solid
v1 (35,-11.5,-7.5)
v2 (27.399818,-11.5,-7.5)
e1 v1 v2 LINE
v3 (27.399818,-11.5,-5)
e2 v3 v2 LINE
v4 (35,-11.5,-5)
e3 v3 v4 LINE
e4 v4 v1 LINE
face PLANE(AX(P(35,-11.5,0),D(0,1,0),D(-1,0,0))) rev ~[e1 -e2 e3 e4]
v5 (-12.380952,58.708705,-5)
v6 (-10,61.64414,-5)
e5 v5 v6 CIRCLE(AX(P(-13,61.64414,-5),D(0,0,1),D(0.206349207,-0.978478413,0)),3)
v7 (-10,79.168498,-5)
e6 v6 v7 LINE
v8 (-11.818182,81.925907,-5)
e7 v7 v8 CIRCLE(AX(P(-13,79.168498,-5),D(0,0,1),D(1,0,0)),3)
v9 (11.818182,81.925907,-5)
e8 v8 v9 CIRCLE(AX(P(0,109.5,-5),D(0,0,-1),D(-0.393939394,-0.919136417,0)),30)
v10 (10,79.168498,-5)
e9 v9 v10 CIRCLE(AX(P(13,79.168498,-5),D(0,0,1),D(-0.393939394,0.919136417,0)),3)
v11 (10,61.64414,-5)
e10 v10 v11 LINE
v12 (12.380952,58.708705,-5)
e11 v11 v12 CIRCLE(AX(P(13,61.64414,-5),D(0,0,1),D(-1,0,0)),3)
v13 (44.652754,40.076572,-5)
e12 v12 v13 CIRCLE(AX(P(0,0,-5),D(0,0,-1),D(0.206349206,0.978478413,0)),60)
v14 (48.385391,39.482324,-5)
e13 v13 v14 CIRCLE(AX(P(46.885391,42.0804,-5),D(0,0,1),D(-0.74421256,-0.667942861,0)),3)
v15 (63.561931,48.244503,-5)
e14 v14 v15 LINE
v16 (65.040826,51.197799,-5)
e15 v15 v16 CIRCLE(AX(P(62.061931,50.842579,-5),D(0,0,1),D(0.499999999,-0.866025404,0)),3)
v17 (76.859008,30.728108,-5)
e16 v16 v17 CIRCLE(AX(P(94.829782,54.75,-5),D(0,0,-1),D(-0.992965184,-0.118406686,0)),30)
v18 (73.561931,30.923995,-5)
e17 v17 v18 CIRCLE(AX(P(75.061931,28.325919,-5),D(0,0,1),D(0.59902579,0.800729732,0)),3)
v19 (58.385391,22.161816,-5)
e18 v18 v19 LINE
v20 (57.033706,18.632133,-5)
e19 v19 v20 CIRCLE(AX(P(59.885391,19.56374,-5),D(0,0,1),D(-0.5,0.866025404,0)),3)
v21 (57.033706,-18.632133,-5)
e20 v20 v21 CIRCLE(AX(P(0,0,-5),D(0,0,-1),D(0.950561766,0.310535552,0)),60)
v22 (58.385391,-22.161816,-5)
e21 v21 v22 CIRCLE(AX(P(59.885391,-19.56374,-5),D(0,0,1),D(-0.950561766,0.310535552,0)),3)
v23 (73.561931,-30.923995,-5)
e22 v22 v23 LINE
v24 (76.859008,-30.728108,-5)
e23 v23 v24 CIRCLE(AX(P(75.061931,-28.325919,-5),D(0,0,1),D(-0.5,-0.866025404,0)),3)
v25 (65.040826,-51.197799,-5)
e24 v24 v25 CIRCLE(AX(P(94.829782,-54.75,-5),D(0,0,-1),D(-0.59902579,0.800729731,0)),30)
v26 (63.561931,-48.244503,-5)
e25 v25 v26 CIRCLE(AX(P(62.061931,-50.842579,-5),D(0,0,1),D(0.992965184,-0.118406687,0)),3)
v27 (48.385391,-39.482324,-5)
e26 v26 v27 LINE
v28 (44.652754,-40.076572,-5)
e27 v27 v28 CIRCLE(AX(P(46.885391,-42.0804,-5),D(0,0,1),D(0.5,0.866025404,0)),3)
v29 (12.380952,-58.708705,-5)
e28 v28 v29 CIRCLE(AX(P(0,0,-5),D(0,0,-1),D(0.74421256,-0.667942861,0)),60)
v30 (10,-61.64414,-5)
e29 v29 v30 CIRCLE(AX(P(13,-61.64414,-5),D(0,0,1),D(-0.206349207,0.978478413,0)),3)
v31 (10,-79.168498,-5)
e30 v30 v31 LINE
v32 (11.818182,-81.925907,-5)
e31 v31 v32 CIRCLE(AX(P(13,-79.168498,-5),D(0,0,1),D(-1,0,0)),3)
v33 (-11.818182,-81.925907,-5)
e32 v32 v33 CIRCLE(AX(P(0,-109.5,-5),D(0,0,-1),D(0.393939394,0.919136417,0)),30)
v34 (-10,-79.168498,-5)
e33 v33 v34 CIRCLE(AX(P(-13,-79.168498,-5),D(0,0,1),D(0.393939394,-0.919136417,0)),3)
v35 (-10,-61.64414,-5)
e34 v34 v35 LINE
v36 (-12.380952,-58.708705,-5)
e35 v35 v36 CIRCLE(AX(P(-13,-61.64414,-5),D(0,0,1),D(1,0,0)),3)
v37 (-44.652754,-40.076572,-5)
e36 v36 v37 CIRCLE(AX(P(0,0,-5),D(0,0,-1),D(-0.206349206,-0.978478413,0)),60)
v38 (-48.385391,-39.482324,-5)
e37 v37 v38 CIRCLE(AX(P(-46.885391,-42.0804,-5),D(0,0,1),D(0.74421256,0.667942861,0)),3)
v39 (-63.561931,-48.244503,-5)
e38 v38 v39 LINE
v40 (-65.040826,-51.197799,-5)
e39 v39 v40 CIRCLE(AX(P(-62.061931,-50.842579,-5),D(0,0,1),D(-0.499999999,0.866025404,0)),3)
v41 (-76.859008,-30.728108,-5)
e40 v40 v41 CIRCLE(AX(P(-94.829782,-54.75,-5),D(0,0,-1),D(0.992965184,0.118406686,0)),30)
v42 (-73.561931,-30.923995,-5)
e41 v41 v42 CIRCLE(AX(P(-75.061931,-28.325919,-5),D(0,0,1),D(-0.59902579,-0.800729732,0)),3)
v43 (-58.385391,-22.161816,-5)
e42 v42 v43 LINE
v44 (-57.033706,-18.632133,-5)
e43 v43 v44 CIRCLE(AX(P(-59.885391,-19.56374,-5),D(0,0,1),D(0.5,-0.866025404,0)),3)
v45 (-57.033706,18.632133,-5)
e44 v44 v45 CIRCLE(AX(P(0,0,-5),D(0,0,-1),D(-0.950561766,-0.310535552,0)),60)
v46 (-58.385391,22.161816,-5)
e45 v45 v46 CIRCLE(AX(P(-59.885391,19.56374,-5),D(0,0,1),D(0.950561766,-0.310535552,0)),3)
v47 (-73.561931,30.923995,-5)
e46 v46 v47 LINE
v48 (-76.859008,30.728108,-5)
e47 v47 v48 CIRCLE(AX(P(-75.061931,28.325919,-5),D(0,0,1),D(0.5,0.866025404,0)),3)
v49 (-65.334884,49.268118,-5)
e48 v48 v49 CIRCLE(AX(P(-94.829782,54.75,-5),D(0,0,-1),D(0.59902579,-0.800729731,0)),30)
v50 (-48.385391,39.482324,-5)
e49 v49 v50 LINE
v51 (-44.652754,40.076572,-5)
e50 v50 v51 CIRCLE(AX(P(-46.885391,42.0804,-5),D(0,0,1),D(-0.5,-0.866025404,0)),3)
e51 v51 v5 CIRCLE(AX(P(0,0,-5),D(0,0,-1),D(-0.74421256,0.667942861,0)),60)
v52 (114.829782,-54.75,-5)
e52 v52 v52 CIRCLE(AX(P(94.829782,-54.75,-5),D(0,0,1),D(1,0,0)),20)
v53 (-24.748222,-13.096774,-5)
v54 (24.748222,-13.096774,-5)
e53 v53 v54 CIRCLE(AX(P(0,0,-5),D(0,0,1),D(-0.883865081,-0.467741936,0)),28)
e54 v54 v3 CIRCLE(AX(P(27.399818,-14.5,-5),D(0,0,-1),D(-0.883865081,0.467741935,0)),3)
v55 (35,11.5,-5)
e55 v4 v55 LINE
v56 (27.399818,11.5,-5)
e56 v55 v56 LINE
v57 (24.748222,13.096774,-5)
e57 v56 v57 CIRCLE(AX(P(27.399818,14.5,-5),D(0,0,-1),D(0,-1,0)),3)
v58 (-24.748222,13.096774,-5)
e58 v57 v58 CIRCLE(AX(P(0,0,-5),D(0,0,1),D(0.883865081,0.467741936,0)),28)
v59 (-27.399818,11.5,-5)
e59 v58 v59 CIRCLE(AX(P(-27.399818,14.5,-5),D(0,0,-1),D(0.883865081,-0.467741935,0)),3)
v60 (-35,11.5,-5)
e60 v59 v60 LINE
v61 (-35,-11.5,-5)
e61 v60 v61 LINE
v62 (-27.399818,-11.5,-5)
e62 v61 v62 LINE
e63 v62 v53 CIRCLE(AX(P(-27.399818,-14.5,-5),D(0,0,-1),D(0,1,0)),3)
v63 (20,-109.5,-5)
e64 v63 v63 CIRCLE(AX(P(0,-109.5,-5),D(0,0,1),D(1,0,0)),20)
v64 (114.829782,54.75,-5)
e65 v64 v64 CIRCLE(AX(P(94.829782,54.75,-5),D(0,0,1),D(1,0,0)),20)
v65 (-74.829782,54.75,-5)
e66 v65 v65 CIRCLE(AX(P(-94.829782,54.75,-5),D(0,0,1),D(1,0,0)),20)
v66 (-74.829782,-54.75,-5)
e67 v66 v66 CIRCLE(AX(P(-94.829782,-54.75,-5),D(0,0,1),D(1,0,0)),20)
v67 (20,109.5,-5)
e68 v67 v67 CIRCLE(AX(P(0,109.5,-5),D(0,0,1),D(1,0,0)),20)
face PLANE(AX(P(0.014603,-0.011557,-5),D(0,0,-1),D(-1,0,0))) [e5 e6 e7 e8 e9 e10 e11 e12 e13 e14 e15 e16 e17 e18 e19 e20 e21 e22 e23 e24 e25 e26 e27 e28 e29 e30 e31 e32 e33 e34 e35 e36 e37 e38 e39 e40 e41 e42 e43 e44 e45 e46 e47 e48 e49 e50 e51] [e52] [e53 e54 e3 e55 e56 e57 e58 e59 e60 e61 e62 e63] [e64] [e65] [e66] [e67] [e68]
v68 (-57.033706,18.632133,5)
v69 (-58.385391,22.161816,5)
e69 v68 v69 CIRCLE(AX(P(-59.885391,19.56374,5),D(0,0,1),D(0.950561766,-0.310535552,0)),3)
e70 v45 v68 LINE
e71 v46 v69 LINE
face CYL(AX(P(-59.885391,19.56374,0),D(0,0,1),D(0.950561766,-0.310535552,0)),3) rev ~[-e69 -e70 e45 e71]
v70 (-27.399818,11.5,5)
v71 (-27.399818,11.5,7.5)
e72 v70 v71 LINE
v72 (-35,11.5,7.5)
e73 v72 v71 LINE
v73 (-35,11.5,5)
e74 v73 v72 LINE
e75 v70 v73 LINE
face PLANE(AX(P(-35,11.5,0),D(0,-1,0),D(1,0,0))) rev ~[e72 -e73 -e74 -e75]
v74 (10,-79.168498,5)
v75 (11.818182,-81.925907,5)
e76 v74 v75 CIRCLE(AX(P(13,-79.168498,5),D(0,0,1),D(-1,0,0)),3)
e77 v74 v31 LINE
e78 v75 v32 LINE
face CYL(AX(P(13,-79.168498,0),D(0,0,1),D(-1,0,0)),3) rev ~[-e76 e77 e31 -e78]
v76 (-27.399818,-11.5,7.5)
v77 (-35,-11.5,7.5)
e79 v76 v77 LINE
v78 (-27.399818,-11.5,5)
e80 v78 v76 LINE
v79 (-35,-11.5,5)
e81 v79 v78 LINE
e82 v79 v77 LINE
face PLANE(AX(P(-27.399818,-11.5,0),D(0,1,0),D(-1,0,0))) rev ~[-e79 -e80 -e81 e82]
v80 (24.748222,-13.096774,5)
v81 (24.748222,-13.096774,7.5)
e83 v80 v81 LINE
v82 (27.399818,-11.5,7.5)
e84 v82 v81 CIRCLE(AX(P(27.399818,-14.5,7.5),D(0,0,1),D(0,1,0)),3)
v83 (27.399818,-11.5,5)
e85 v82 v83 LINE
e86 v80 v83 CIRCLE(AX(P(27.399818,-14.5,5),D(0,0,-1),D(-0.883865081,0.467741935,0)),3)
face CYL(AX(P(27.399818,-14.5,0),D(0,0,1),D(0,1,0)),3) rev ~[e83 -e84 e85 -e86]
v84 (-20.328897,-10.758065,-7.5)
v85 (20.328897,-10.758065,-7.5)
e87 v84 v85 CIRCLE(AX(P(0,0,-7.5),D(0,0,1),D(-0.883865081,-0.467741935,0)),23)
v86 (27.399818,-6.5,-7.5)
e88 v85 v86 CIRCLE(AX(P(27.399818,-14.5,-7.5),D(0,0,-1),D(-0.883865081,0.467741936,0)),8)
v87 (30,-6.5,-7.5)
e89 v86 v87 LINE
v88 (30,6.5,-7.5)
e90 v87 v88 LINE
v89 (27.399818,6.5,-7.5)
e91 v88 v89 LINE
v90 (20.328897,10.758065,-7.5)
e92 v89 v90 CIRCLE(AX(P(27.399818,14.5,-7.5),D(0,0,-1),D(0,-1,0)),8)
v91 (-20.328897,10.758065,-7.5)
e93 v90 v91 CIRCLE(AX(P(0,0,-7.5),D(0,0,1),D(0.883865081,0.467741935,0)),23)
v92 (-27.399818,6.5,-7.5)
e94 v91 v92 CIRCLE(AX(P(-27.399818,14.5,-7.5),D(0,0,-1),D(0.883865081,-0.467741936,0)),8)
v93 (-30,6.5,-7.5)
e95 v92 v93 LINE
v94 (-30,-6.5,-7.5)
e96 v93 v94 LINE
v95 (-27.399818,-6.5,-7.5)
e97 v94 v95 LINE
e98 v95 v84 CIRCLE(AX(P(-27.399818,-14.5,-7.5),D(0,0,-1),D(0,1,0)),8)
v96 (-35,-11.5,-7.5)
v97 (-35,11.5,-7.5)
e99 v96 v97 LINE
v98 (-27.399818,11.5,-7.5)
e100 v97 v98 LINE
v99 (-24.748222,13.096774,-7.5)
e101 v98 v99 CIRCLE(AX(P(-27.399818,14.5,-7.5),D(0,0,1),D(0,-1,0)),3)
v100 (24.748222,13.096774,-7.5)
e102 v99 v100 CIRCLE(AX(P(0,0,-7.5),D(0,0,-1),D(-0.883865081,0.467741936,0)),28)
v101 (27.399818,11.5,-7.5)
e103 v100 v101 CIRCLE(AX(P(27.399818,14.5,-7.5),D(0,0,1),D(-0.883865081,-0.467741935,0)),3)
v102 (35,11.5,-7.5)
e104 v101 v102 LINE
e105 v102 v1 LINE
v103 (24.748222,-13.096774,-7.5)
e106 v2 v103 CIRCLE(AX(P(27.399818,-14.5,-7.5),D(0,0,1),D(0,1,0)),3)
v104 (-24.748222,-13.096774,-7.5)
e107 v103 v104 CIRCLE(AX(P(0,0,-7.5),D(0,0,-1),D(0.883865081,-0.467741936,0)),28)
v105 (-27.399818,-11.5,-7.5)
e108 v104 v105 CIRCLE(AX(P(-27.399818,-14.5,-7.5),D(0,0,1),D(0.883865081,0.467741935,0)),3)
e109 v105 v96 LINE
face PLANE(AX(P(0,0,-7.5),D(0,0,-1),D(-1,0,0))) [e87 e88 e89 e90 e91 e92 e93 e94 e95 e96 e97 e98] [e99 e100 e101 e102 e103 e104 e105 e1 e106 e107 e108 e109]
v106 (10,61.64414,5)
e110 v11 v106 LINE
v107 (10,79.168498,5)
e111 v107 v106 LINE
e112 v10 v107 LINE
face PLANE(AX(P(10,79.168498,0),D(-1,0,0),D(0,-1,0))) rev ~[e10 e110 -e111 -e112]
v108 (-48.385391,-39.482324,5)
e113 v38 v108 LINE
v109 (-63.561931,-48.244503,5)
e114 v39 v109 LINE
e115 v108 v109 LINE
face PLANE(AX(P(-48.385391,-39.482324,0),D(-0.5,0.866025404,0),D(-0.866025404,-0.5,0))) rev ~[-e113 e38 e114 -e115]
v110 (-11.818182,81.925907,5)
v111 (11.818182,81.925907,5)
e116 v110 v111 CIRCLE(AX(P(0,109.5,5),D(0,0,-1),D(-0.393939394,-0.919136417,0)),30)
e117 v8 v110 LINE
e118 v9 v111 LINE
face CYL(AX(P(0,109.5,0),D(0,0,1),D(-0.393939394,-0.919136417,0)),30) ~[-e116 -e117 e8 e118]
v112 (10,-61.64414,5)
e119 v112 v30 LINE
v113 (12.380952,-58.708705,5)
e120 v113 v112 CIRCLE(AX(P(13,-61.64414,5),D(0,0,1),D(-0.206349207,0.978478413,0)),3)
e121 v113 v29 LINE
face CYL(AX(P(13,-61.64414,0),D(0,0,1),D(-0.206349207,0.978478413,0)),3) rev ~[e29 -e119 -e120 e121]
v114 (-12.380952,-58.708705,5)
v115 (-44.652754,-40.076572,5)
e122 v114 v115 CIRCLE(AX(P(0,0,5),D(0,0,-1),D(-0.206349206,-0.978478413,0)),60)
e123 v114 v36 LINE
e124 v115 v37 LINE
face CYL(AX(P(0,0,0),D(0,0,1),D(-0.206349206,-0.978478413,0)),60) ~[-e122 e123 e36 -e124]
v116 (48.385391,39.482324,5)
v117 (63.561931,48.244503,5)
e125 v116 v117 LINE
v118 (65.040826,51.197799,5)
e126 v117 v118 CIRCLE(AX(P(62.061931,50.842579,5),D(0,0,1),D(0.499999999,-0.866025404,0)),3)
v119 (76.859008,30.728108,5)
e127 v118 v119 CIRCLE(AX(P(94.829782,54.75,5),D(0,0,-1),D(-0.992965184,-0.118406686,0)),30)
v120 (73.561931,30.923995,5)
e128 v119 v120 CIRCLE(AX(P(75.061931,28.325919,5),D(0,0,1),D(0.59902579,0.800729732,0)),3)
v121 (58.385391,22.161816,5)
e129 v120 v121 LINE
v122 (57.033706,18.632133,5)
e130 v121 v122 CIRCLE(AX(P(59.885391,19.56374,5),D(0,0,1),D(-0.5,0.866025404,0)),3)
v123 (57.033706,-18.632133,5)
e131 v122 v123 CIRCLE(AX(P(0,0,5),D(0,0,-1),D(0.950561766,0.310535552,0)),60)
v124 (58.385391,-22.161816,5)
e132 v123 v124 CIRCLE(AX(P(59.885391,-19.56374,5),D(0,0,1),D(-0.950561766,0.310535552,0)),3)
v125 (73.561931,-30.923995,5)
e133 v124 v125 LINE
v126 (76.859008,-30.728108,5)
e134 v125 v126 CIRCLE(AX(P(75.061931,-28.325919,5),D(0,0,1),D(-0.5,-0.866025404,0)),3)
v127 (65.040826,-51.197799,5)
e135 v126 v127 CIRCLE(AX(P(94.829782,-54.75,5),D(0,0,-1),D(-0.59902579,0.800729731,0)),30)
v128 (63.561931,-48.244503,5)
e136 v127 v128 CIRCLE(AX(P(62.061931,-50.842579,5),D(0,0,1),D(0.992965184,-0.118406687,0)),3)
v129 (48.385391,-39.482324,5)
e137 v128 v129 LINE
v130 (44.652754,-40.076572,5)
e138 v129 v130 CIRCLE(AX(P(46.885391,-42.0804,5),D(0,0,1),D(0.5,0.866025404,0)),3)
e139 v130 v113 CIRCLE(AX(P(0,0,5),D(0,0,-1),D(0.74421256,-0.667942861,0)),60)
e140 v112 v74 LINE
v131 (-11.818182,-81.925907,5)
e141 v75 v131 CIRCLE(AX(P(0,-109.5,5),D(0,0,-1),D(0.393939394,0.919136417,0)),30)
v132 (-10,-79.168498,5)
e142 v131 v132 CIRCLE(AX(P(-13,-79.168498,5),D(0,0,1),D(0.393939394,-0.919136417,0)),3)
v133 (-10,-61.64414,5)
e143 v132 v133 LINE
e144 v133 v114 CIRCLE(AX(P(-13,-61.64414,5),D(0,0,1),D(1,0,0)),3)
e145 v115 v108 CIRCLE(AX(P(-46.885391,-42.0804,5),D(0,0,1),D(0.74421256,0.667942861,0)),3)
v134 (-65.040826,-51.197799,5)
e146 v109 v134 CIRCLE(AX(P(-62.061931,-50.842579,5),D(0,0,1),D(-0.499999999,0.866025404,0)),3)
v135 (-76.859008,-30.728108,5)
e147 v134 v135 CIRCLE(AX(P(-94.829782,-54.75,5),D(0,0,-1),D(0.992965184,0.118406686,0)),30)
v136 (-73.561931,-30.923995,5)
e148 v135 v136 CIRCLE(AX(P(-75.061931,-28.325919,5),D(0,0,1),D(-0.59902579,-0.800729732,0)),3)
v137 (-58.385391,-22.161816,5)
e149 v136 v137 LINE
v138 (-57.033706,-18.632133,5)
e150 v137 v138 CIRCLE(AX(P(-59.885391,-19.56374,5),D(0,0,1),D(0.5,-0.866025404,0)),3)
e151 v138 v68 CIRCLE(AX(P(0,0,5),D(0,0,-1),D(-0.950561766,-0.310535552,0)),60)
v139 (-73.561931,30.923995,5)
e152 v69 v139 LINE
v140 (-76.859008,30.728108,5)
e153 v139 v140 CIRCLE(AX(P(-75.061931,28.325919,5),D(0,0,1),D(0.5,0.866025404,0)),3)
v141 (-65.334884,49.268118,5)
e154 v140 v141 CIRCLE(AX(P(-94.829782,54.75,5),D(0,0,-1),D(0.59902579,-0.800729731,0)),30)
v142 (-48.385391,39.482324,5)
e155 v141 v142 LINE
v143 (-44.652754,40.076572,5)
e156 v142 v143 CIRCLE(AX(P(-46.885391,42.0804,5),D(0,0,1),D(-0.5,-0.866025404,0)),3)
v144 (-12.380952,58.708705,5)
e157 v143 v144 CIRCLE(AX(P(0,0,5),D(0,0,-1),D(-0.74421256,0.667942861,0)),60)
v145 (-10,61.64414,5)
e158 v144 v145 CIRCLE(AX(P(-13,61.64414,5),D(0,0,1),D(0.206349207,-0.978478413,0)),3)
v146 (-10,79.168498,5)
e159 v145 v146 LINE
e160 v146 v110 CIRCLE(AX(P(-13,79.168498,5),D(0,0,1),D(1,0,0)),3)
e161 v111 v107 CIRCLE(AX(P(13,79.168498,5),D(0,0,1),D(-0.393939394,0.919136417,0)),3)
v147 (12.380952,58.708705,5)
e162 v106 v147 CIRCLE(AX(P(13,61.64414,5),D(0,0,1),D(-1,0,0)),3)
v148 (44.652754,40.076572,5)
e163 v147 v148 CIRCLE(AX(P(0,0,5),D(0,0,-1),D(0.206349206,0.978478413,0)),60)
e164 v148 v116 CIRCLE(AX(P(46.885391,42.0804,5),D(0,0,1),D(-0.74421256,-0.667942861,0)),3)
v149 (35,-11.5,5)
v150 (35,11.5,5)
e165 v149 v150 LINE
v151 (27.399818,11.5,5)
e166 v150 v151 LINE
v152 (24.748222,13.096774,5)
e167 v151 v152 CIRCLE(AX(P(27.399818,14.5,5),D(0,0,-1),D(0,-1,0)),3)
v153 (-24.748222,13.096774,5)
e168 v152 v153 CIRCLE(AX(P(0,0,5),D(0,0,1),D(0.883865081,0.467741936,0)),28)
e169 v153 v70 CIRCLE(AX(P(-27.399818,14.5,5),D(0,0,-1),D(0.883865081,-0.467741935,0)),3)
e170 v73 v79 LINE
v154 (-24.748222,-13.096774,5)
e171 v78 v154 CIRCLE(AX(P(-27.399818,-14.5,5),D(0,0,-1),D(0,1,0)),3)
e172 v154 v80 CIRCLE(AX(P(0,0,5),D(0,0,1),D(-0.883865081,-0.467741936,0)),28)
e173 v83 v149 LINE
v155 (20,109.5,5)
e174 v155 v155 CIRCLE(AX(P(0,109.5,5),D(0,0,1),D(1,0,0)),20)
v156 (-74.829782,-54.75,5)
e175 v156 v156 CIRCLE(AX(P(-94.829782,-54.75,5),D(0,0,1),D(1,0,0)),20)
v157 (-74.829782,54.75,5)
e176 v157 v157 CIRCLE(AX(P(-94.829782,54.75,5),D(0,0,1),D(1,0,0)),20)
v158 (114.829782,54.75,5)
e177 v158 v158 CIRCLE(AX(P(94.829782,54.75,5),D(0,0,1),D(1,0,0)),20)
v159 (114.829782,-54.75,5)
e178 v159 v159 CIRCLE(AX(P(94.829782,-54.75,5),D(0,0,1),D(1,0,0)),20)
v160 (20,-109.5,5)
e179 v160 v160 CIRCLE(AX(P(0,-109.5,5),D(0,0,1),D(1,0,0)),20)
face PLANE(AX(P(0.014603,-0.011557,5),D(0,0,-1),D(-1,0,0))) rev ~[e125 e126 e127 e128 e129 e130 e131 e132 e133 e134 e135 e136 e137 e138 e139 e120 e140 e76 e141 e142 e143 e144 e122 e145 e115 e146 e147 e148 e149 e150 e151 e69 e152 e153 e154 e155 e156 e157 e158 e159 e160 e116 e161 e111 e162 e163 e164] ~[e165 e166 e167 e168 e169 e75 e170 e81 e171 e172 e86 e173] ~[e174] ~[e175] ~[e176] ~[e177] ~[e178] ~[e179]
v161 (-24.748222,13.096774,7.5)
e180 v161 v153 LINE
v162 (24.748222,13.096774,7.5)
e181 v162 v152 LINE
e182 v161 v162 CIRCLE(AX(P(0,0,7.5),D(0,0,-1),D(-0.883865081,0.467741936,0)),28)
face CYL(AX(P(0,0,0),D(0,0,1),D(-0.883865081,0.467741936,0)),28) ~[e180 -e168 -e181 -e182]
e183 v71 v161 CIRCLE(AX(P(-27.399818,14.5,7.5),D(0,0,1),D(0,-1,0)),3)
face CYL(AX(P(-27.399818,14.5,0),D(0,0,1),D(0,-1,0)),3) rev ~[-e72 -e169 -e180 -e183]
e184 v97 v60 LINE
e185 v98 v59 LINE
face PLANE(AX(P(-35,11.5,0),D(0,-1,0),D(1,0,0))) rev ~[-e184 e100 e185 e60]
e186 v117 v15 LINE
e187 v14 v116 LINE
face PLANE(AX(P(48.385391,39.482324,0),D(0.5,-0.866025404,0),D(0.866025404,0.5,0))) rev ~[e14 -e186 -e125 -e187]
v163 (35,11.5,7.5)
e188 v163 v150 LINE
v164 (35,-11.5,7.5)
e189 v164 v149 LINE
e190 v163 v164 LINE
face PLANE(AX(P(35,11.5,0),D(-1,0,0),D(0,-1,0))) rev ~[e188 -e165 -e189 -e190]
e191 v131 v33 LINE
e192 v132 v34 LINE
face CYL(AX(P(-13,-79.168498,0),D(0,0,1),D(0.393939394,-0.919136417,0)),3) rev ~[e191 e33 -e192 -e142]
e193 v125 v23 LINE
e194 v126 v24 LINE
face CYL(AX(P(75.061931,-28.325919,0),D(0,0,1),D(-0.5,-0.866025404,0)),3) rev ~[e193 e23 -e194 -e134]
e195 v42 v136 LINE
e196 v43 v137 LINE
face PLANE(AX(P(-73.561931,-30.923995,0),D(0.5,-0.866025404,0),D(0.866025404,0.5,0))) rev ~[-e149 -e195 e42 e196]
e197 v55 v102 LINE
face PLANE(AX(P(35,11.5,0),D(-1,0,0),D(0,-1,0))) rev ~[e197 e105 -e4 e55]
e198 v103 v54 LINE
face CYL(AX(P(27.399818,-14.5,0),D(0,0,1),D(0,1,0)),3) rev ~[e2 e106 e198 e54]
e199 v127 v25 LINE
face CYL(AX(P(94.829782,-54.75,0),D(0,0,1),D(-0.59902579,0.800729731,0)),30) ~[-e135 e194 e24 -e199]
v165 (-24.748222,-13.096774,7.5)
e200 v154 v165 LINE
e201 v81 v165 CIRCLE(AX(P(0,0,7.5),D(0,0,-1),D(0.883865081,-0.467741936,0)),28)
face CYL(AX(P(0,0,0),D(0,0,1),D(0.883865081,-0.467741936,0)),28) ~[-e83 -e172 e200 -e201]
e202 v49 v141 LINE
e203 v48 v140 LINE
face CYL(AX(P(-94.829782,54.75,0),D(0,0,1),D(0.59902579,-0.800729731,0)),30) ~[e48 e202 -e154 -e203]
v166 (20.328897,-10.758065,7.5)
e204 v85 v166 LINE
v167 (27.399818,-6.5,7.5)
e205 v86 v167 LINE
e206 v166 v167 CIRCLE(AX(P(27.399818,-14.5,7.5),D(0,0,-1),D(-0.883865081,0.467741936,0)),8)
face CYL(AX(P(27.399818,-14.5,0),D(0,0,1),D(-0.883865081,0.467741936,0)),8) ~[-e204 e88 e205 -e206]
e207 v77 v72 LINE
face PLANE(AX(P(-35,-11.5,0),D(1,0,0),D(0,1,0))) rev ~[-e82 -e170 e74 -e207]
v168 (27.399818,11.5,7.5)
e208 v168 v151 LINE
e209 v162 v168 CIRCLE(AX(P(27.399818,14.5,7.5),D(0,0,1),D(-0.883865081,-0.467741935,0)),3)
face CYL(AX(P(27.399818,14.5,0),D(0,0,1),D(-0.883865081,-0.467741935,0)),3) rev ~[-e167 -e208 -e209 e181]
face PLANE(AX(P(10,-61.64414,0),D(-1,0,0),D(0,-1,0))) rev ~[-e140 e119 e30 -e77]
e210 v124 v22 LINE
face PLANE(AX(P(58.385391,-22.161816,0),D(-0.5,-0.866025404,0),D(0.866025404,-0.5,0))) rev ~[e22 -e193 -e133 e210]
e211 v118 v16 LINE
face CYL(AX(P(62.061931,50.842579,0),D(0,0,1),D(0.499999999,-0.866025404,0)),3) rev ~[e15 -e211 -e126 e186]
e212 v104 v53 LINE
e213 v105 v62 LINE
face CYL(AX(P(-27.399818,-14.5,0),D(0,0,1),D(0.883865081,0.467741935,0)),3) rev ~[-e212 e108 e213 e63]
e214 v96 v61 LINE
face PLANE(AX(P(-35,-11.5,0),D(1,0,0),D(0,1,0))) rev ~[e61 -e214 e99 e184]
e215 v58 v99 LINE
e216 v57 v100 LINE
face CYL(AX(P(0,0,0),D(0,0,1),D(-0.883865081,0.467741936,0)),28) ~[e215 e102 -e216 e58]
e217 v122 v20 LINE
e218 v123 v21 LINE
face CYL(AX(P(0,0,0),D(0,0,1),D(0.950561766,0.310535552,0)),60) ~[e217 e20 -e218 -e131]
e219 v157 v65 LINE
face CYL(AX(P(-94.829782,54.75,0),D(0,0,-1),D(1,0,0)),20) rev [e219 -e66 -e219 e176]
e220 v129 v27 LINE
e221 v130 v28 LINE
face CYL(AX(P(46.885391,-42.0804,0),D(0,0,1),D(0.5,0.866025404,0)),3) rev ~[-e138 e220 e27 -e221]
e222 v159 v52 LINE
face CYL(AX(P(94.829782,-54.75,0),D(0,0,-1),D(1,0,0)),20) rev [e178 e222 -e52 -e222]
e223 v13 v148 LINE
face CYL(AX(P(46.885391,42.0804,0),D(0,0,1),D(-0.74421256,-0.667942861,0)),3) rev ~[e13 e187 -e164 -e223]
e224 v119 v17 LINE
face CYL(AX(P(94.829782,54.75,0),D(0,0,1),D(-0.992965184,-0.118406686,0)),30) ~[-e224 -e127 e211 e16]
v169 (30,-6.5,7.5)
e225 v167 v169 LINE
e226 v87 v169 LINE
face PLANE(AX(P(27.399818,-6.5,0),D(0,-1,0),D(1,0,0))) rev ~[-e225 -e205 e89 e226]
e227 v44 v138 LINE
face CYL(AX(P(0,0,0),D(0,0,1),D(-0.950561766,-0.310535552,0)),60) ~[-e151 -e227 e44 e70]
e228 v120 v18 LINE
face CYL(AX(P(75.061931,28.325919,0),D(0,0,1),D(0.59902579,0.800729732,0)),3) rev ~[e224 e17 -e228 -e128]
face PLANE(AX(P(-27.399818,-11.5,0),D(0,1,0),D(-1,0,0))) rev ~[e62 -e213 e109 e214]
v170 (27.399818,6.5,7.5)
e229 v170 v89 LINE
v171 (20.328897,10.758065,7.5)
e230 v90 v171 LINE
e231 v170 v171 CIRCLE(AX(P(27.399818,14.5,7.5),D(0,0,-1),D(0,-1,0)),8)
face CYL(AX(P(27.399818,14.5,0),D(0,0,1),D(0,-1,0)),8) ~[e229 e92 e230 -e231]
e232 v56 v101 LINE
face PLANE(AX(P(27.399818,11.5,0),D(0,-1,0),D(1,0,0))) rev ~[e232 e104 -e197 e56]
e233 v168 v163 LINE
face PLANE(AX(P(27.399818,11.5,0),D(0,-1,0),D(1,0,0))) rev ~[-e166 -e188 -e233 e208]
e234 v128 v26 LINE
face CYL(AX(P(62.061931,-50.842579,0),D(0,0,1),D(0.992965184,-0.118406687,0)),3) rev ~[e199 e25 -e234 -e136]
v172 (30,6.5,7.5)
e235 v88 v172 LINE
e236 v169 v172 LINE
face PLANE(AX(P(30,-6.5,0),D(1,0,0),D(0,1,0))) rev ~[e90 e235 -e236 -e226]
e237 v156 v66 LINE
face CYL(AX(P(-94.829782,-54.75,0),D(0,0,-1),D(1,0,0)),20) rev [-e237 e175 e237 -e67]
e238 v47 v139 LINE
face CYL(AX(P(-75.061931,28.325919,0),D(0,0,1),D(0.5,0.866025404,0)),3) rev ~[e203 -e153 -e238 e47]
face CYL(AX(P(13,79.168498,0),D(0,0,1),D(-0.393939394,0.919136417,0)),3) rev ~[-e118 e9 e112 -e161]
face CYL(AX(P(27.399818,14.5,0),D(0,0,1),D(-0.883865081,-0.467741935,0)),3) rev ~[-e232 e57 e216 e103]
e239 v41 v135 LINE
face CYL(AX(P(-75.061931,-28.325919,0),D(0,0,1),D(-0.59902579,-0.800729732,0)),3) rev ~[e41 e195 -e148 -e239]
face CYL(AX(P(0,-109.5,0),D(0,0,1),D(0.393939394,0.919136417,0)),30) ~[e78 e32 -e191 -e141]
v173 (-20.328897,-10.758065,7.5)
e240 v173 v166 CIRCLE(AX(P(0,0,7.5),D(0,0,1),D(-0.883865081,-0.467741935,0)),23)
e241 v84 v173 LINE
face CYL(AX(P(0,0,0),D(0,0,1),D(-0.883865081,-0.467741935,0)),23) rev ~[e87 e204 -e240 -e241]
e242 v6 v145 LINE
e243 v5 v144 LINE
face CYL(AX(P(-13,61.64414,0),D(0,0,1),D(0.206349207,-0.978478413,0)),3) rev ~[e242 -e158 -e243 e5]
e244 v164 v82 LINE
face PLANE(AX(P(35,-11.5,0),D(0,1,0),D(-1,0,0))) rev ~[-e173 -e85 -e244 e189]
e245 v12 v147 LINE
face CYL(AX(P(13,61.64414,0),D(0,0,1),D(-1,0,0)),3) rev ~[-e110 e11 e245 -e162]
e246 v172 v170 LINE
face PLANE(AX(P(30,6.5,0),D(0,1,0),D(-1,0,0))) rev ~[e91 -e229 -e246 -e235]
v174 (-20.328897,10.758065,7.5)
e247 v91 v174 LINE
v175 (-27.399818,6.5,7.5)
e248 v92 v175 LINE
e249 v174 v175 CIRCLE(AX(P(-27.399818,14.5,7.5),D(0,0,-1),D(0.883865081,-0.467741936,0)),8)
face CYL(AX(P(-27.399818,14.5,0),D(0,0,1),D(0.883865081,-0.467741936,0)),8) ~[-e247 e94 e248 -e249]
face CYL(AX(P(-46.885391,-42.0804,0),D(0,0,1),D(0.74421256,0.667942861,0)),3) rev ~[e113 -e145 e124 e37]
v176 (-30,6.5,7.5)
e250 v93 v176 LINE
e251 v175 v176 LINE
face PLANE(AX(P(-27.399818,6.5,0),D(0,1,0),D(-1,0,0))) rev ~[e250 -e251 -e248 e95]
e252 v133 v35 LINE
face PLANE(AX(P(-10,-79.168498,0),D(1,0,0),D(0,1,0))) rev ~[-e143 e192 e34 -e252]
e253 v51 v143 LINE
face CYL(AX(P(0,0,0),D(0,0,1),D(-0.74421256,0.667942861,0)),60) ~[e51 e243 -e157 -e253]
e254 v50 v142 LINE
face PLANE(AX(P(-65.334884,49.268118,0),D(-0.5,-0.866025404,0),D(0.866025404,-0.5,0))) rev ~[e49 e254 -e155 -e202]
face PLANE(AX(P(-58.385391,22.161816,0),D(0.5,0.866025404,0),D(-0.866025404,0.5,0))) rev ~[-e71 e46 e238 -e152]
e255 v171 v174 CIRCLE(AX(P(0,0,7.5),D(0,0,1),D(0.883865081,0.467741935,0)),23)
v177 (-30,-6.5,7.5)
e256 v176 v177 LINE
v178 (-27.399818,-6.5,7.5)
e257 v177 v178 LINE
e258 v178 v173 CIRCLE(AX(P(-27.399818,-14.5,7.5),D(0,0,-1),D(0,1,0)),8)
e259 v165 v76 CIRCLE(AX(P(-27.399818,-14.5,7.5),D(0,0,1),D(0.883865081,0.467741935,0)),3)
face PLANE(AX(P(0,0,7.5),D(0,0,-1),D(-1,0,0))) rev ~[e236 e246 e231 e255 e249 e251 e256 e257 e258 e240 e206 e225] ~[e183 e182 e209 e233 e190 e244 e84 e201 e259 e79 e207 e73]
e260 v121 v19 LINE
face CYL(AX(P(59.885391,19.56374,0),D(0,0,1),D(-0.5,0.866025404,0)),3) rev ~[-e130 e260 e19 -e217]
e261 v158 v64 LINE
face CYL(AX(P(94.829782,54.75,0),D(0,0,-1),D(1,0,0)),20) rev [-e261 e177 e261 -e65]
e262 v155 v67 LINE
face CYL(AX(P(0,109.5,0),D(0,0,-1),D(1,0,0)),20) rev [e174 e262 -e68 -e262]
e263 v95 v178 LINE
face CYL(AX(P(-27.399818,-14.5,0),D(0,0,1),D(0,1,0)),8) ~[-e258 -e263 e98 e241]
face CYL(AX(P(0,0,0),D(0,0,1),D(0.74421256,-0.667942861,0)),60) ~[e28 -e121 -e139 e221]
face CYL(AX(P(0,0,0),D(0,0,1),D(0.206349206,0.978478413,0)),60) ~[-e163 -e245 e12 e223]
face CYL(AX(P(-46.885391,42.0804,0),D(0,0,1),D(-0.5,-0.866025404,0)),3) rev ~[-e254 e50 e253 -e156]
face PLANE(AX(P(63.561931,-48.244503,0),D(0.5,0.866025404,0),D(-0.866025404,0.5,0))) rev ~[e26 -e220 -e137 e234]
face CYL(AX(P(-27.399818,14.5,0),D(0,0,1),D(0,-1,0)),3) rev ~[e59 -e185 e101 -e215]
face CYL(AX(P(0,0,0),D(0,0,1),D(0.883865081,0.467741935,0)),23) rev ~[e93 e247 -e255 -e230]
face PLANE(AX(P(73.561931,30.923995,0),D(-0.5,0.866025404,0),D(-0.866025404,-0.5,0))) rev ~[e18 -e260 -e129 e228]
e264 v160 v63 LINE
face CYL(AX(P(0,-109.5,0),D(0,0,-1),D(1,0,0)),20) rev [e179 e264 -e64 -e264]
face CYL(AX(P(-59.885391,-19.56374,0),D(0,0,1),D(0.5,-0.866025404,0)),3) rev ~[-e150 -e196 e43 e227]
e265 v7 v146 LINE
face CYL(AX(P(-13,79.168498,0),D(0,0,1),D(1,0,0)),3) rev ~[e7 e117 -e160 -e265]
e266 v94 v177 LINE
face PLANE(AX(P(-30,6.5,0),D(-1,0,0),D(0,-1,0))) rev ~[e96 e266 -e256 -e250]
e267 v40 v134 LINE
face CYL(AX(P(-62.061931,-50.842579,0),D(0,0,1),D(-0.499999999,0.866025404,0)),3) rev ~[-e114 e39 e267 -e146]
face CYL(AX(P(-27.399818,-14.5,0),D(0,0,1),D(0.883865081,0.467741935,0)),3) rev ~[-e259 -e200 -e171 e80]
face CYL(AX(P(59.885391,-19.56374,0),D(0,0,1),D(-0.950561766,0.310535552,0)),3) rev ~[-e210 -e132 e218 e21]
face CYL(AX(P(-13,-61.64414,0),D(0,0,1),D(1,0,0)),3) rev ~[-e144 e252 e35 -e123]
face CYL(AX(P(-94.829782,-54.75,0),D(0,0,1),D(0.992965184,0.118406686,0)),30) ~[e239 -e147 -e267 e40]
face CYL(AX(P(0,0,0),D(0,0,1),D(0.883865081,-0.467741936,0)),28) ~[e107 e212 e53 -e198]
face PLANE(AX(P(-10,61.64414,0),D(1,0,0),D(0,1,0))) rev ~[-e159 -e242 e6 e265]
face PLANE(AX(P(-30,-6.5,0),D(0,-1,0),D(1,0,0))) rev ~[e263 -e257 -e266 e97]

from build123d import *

# Parameters (mm, degrees)
BOSS_EXTRUDE1_DEPTH = 7.5
SKETCH1_3_R         = 20
BOSS_EXTRUDE2_DEPTH = 5


with BuildPart() as part:
    # Sketch1 → Boss-Extrude1 (new, symmetric)
    with BuildSketch(Plane.XY):
        with BuildLine():
            ThreePointArc((-24.748222274, 13.096774194), (-25.852186654, 11.930011924), (-27.399817518, 11.5))
            Line((-27.399817518, 11.5), (-35, 11.5))
            Line((-35, 11.5), (-35, -11.5))
            Line((-35, -11.5), (-27.399817518, -11.5))
            ThreePointArc((-27.399817518, -11.5), (-25.852186654, -11.930011924), (-24.748222274, -13.096774194))
            ThreePointArc((-24.748222274, -13.096774194), (0, -28), (24.748222274, -13.096774194))
            ThreePointArc((24.748222274, -13.096774194), (25.852186654, -11.930011924), (27.399817518, -11.5))
            Line((27.399817518, -11.5), (35, -11.5))
            Line((35, -11.5), (35, 11.5))
            Line((35, 11.5), (27.399817518, 11.5))
            ThreePointArc((27.399817518, 11.5), (25.852186654, 11.930011924), (24.748222274, 13.096774194))
            ThreePointArc((24.748222274, 13.096774194), (0, 28), (-24.748222274, 13.096774194))
        make_face()
        with BuildLine():
            Line((-30, 6.5), (-27.399817518, 6.5))
            ThreePointArc((-27.399817518, 6.5), (-23.272801881, 7.646698465), (-20.328896868, 10.758064516))
            ThreePointArc((-20.328896868, 10.758064516), (0, 23), (20.328896868, 10.758064516))
            ThreePointArc((20.328896868, 10.758064516), (23.272801881, 7.646698465), (27.399817518, 6.5))
            Line((27.399817518, 6.5), (30, 6.5))
            Line((30, 6.5), (30, -6.5))
            Line((30, -6.5), (27.399817518, -6.5))
            ThreePointArc((27.399817518, -6.5), (23.272801881, -7.646698465), (20.328896868, -10.758064516))
            ThreePointArc((20.328896868, -10.758064516), (0, -23), (-20.328896868, -10.758064516))
            ThreePointArc((-20.328896868, -10.758064516), (-23.272801881, -7.646698465), (-27.399817518, -6.5))
            Line((-27.399817518, -6.5), (-30, -6.5))
            Line((-30, -6.5), (-30, 6.5))
        make_face(mode=Mode.SUBTRACT)
    extrude(amount=BOSS_EXTRUDE1_DEPTH, both=True)

    # Sketch1<3> → Boss-Extrude2 (add, symmetric)
    with BuildSketch(Plane.XY):
        with BuildLine():
            Line((63.561930641, 48.24450315), (48.38539126, 39.482324053))
            ThreePointArc((48.38539126, 39.482324053), (46.413721828, 39.117710954), (44.652753581, 40.07657168))
            ThreePointArc((44.652753581, 40.07657168), (30, 51.961524227), (12.380952381, 58.70870479))
            ThreePointArc((12.380952381, 58.70870479), (10.67007051, 59.754317665), (10, 61.64414003))
            Line((10, 61.64414003), (10, 79.168498224))
            ThreePointArc((10, 79.168498224), (10.49545867, 80.819943871), (11.818181818, 81.925907476))
            ThreePointArc((11.818181818, 81.925907476), (0, 139.5), (-11.818181818, 81.925907476))
            ThreePointArc((-11.818181818, 81.925907476), (-10.49545867, 80.819943871), (-10, 79.168498224))
            Line((-10, 79.168498224), (-10, 61.64414003))
            ThreePointArc((-10, 61.64414003), (-10.67007051, 59.754317665), (-12.380952381, 58.70870479))
            ThreePointArc((-12.380952381, 58.70870479), (-30, 51.961524227), (-44.652753581, 40.07657168))
            ThreePointArc((-44.652753581, 40.07657168), (-46.413721828, 39.117710954), (-48.38539126, 39.482324053))
            Line((-48.38539126, 39.482324053), (-65.334884287, 49.268118414))
            ThreePointArc((-65.334884287, 49.268118414), (-120.308802103, 70.587282596), (-76.859008012, 30.728108057))
            ThreePointArc((-76.859008012, 30.728108057), (-75.23985386, 31.320638103), (-73.561930641, 30.923995074))
            Line((-73.561930641, 30.923995074), (-58.38539126, 22.161815977))
            ThreePointArc((-58.38539126, 22.161815977), (-57.083792338, 20.636606711), (-57.033705962, 18.63213311))
            ThreePointArc((-57.033705962, 18.63213311), (-60, 0), (-57.033705962, -18.63213311))
            ThreePointArc((-57.033705962, -18.63213311), (-57.083792338, -20.636606711), (-58.38539126, -22.161815977))
            Line((-58.38539126, -22.161815977), (-73.561930641, -30.923995074))
            ThreePointArc((-73.561930641, -30.923995074), (-75.23985386, -31.320638103), (-76.859008012, -30.728108057))
            ThreePointArc((-76.859008012, -30.728108057), (-120.810543828, -69.75), (-65.040826193, -51.197799419))
            ThreePointArc((-65.040826193, -51.197799419), (-64.74439519, -49.499305768), (-63.561930641, -48.24450315))
            Line((-63.561930641, -48.24450315), (-48.38539126, -39.482324053))
            ThreePointArc((-48.38539126, -39.482324053), (-46.413721828, -39.117710954), (-44.652753581, -40.07657168))
            ThreePointArc((-44.652753581, -40.07657168), (-30, -51.961524227), (-12.380952381, -58.70870479))
            ThreePointArc((-12.380952381, -58.70870479), (-10.67007051, -59.754317665), (-10, -61.64414003))
            Line((-10, -61.64414003), (-10, -79.168498224))
            ThreePointArc((-10, -79.168498224), (-10.49545867, -80.819943871), (-11.818181818, -81.925907476))
            ThreePointArc((-11.818181818, -81.925907476), (0, -139.5), (11.818181818, -81.925907476))
            ThreePointArc((11.818181818, -81.925907476), (10.49545867, -80.819943871), (10, -79.168498224))
            Line((10, -79.168498224), (10, -61.64414003))
            ThreePointArc((10, -61.64414003), (10.67007051, -59.754317665), (12.380952381, -58.70870479))
            ThreePointArc((12.380952381, -58.70870479), (30, -51.961524227), (44.652753581, -40.07657168))
            ThreePointArc((44.652753581, -40.07657168), (46.413721828, -39.117710954), (48.38539126, -39.482324053))
            Line((48.38539126, -39.482324053), (63.561930641, -48.24450315))
            ThreePointArc((63.561930641, -48.24450315), (64.74439519, -49.499305768), (65.040826193, -51.197799419))
            ThreePointArc((65.040826193, -51.197799419), (120.810543828, -69.75), (76.859008012, -30.728108057))
            ThreePointArc((76.859008012, -30.728108057), (75.23985386, -31.320638103), (73.561930641, -30.923995074))
            Line((73.561930641, -30.923995074), (58.38539126, -22.161815977))
            ThreePointArc((58.38539126, -22.161815977), (57.083792338, -20.636606711), (57.033705962, -18.63213311))
            ThreePointArc((57.033705962, -18.63213311), (60, 0), (57.033705962, 18.63213311))
            ThreePointArc((57.033705962, 18.63213311), (57.083792338, 20.636606711), (58.38539126, 22.161815977))
            Line((58.38539126, 22.161815977), (73.561930641, 30.923995074))
            ThreePointArc((73.561930641, 30.923995074), (75.23985386, 31.320638103), (76.859008012, 30.728108057))
            ThreePointArc((76.859008012, 30.728108057), (120.810543828, 69.75), (65.040826193, 51.197799419))
            ThreePointArc((65.040826193, 51.197799419), (64.74439519, 49.499305768), (63.561930641, 48.24450315))
        make_face()
        with Locations((0, -109.5)):
            Circle(SKETCH1_3_R, mode=Mode.SUBTRACT)
        with Locations((-94.829781714, -54.75)):
            Circle(SKETCH1_3_R, mode=Mode.SUBTRACT)
        with BuildLine():
            Line((-35, 11.5), (-27.399817518, 11.5))
            ThreePointArc((-27.399817518, 11.5), (-25.852186654, 11.930011924), (-24.748222274, 13.096774194))
            ThreePointArc((-24.748222274, 13.096774194), (0, 28), (24.748222274, 13.096774194))
            ThreePointArc((24.748222274, 13.096774194), (25.852186654, 11.930011924), (27.399817518, 11.5))
            Line((27.399817518, 11.5), (35, 11.5))
            Line((35, 11.5), (35, -11.5))
            Line((35, -11.5), (27.399817518, -11.5))
            ThreePointArc((27.399817518, -11.5), (25.852186654, -11.930011924), (24.748222274, -13.096774194))
            ThreePointArc((24.748222274, -13.096774194), (0, -28), (-24.748222274, -13.096774194))
            ThreePointArc((-24.748222274, -13.096774194), (-25.852186654, -11.930011924), (-27.399817518, -11.5))
            Line((-27.399817518, -11.5), (-35, -11.5))
            Line((-35, -11.5), (-35, 11.5))
        make_face(mode=Mode.SUBTRACT)
        with Locations((94.829781714, -54.75)):
            Circle(SKETCH1_3_R, mode=Mode.SUBTRACT)
        with Locations((-94.829781714, 54.75)):
            Circle(SKETCH1_3_R, mode=Mode.SUBTRACT)
        with Locations((0, 109.5)):
            Circle(SKETCH1_3_R, mode=Mode.SUBTRACT)
        with Locations((94.829781714, 54.75)):
            Circle(SKETCH1_3_R, mode=Mode.SUBTRACT)
    extrude(amount=BOSS_EXTRUDE2_DEPTH, both=True)


solid = part.part
